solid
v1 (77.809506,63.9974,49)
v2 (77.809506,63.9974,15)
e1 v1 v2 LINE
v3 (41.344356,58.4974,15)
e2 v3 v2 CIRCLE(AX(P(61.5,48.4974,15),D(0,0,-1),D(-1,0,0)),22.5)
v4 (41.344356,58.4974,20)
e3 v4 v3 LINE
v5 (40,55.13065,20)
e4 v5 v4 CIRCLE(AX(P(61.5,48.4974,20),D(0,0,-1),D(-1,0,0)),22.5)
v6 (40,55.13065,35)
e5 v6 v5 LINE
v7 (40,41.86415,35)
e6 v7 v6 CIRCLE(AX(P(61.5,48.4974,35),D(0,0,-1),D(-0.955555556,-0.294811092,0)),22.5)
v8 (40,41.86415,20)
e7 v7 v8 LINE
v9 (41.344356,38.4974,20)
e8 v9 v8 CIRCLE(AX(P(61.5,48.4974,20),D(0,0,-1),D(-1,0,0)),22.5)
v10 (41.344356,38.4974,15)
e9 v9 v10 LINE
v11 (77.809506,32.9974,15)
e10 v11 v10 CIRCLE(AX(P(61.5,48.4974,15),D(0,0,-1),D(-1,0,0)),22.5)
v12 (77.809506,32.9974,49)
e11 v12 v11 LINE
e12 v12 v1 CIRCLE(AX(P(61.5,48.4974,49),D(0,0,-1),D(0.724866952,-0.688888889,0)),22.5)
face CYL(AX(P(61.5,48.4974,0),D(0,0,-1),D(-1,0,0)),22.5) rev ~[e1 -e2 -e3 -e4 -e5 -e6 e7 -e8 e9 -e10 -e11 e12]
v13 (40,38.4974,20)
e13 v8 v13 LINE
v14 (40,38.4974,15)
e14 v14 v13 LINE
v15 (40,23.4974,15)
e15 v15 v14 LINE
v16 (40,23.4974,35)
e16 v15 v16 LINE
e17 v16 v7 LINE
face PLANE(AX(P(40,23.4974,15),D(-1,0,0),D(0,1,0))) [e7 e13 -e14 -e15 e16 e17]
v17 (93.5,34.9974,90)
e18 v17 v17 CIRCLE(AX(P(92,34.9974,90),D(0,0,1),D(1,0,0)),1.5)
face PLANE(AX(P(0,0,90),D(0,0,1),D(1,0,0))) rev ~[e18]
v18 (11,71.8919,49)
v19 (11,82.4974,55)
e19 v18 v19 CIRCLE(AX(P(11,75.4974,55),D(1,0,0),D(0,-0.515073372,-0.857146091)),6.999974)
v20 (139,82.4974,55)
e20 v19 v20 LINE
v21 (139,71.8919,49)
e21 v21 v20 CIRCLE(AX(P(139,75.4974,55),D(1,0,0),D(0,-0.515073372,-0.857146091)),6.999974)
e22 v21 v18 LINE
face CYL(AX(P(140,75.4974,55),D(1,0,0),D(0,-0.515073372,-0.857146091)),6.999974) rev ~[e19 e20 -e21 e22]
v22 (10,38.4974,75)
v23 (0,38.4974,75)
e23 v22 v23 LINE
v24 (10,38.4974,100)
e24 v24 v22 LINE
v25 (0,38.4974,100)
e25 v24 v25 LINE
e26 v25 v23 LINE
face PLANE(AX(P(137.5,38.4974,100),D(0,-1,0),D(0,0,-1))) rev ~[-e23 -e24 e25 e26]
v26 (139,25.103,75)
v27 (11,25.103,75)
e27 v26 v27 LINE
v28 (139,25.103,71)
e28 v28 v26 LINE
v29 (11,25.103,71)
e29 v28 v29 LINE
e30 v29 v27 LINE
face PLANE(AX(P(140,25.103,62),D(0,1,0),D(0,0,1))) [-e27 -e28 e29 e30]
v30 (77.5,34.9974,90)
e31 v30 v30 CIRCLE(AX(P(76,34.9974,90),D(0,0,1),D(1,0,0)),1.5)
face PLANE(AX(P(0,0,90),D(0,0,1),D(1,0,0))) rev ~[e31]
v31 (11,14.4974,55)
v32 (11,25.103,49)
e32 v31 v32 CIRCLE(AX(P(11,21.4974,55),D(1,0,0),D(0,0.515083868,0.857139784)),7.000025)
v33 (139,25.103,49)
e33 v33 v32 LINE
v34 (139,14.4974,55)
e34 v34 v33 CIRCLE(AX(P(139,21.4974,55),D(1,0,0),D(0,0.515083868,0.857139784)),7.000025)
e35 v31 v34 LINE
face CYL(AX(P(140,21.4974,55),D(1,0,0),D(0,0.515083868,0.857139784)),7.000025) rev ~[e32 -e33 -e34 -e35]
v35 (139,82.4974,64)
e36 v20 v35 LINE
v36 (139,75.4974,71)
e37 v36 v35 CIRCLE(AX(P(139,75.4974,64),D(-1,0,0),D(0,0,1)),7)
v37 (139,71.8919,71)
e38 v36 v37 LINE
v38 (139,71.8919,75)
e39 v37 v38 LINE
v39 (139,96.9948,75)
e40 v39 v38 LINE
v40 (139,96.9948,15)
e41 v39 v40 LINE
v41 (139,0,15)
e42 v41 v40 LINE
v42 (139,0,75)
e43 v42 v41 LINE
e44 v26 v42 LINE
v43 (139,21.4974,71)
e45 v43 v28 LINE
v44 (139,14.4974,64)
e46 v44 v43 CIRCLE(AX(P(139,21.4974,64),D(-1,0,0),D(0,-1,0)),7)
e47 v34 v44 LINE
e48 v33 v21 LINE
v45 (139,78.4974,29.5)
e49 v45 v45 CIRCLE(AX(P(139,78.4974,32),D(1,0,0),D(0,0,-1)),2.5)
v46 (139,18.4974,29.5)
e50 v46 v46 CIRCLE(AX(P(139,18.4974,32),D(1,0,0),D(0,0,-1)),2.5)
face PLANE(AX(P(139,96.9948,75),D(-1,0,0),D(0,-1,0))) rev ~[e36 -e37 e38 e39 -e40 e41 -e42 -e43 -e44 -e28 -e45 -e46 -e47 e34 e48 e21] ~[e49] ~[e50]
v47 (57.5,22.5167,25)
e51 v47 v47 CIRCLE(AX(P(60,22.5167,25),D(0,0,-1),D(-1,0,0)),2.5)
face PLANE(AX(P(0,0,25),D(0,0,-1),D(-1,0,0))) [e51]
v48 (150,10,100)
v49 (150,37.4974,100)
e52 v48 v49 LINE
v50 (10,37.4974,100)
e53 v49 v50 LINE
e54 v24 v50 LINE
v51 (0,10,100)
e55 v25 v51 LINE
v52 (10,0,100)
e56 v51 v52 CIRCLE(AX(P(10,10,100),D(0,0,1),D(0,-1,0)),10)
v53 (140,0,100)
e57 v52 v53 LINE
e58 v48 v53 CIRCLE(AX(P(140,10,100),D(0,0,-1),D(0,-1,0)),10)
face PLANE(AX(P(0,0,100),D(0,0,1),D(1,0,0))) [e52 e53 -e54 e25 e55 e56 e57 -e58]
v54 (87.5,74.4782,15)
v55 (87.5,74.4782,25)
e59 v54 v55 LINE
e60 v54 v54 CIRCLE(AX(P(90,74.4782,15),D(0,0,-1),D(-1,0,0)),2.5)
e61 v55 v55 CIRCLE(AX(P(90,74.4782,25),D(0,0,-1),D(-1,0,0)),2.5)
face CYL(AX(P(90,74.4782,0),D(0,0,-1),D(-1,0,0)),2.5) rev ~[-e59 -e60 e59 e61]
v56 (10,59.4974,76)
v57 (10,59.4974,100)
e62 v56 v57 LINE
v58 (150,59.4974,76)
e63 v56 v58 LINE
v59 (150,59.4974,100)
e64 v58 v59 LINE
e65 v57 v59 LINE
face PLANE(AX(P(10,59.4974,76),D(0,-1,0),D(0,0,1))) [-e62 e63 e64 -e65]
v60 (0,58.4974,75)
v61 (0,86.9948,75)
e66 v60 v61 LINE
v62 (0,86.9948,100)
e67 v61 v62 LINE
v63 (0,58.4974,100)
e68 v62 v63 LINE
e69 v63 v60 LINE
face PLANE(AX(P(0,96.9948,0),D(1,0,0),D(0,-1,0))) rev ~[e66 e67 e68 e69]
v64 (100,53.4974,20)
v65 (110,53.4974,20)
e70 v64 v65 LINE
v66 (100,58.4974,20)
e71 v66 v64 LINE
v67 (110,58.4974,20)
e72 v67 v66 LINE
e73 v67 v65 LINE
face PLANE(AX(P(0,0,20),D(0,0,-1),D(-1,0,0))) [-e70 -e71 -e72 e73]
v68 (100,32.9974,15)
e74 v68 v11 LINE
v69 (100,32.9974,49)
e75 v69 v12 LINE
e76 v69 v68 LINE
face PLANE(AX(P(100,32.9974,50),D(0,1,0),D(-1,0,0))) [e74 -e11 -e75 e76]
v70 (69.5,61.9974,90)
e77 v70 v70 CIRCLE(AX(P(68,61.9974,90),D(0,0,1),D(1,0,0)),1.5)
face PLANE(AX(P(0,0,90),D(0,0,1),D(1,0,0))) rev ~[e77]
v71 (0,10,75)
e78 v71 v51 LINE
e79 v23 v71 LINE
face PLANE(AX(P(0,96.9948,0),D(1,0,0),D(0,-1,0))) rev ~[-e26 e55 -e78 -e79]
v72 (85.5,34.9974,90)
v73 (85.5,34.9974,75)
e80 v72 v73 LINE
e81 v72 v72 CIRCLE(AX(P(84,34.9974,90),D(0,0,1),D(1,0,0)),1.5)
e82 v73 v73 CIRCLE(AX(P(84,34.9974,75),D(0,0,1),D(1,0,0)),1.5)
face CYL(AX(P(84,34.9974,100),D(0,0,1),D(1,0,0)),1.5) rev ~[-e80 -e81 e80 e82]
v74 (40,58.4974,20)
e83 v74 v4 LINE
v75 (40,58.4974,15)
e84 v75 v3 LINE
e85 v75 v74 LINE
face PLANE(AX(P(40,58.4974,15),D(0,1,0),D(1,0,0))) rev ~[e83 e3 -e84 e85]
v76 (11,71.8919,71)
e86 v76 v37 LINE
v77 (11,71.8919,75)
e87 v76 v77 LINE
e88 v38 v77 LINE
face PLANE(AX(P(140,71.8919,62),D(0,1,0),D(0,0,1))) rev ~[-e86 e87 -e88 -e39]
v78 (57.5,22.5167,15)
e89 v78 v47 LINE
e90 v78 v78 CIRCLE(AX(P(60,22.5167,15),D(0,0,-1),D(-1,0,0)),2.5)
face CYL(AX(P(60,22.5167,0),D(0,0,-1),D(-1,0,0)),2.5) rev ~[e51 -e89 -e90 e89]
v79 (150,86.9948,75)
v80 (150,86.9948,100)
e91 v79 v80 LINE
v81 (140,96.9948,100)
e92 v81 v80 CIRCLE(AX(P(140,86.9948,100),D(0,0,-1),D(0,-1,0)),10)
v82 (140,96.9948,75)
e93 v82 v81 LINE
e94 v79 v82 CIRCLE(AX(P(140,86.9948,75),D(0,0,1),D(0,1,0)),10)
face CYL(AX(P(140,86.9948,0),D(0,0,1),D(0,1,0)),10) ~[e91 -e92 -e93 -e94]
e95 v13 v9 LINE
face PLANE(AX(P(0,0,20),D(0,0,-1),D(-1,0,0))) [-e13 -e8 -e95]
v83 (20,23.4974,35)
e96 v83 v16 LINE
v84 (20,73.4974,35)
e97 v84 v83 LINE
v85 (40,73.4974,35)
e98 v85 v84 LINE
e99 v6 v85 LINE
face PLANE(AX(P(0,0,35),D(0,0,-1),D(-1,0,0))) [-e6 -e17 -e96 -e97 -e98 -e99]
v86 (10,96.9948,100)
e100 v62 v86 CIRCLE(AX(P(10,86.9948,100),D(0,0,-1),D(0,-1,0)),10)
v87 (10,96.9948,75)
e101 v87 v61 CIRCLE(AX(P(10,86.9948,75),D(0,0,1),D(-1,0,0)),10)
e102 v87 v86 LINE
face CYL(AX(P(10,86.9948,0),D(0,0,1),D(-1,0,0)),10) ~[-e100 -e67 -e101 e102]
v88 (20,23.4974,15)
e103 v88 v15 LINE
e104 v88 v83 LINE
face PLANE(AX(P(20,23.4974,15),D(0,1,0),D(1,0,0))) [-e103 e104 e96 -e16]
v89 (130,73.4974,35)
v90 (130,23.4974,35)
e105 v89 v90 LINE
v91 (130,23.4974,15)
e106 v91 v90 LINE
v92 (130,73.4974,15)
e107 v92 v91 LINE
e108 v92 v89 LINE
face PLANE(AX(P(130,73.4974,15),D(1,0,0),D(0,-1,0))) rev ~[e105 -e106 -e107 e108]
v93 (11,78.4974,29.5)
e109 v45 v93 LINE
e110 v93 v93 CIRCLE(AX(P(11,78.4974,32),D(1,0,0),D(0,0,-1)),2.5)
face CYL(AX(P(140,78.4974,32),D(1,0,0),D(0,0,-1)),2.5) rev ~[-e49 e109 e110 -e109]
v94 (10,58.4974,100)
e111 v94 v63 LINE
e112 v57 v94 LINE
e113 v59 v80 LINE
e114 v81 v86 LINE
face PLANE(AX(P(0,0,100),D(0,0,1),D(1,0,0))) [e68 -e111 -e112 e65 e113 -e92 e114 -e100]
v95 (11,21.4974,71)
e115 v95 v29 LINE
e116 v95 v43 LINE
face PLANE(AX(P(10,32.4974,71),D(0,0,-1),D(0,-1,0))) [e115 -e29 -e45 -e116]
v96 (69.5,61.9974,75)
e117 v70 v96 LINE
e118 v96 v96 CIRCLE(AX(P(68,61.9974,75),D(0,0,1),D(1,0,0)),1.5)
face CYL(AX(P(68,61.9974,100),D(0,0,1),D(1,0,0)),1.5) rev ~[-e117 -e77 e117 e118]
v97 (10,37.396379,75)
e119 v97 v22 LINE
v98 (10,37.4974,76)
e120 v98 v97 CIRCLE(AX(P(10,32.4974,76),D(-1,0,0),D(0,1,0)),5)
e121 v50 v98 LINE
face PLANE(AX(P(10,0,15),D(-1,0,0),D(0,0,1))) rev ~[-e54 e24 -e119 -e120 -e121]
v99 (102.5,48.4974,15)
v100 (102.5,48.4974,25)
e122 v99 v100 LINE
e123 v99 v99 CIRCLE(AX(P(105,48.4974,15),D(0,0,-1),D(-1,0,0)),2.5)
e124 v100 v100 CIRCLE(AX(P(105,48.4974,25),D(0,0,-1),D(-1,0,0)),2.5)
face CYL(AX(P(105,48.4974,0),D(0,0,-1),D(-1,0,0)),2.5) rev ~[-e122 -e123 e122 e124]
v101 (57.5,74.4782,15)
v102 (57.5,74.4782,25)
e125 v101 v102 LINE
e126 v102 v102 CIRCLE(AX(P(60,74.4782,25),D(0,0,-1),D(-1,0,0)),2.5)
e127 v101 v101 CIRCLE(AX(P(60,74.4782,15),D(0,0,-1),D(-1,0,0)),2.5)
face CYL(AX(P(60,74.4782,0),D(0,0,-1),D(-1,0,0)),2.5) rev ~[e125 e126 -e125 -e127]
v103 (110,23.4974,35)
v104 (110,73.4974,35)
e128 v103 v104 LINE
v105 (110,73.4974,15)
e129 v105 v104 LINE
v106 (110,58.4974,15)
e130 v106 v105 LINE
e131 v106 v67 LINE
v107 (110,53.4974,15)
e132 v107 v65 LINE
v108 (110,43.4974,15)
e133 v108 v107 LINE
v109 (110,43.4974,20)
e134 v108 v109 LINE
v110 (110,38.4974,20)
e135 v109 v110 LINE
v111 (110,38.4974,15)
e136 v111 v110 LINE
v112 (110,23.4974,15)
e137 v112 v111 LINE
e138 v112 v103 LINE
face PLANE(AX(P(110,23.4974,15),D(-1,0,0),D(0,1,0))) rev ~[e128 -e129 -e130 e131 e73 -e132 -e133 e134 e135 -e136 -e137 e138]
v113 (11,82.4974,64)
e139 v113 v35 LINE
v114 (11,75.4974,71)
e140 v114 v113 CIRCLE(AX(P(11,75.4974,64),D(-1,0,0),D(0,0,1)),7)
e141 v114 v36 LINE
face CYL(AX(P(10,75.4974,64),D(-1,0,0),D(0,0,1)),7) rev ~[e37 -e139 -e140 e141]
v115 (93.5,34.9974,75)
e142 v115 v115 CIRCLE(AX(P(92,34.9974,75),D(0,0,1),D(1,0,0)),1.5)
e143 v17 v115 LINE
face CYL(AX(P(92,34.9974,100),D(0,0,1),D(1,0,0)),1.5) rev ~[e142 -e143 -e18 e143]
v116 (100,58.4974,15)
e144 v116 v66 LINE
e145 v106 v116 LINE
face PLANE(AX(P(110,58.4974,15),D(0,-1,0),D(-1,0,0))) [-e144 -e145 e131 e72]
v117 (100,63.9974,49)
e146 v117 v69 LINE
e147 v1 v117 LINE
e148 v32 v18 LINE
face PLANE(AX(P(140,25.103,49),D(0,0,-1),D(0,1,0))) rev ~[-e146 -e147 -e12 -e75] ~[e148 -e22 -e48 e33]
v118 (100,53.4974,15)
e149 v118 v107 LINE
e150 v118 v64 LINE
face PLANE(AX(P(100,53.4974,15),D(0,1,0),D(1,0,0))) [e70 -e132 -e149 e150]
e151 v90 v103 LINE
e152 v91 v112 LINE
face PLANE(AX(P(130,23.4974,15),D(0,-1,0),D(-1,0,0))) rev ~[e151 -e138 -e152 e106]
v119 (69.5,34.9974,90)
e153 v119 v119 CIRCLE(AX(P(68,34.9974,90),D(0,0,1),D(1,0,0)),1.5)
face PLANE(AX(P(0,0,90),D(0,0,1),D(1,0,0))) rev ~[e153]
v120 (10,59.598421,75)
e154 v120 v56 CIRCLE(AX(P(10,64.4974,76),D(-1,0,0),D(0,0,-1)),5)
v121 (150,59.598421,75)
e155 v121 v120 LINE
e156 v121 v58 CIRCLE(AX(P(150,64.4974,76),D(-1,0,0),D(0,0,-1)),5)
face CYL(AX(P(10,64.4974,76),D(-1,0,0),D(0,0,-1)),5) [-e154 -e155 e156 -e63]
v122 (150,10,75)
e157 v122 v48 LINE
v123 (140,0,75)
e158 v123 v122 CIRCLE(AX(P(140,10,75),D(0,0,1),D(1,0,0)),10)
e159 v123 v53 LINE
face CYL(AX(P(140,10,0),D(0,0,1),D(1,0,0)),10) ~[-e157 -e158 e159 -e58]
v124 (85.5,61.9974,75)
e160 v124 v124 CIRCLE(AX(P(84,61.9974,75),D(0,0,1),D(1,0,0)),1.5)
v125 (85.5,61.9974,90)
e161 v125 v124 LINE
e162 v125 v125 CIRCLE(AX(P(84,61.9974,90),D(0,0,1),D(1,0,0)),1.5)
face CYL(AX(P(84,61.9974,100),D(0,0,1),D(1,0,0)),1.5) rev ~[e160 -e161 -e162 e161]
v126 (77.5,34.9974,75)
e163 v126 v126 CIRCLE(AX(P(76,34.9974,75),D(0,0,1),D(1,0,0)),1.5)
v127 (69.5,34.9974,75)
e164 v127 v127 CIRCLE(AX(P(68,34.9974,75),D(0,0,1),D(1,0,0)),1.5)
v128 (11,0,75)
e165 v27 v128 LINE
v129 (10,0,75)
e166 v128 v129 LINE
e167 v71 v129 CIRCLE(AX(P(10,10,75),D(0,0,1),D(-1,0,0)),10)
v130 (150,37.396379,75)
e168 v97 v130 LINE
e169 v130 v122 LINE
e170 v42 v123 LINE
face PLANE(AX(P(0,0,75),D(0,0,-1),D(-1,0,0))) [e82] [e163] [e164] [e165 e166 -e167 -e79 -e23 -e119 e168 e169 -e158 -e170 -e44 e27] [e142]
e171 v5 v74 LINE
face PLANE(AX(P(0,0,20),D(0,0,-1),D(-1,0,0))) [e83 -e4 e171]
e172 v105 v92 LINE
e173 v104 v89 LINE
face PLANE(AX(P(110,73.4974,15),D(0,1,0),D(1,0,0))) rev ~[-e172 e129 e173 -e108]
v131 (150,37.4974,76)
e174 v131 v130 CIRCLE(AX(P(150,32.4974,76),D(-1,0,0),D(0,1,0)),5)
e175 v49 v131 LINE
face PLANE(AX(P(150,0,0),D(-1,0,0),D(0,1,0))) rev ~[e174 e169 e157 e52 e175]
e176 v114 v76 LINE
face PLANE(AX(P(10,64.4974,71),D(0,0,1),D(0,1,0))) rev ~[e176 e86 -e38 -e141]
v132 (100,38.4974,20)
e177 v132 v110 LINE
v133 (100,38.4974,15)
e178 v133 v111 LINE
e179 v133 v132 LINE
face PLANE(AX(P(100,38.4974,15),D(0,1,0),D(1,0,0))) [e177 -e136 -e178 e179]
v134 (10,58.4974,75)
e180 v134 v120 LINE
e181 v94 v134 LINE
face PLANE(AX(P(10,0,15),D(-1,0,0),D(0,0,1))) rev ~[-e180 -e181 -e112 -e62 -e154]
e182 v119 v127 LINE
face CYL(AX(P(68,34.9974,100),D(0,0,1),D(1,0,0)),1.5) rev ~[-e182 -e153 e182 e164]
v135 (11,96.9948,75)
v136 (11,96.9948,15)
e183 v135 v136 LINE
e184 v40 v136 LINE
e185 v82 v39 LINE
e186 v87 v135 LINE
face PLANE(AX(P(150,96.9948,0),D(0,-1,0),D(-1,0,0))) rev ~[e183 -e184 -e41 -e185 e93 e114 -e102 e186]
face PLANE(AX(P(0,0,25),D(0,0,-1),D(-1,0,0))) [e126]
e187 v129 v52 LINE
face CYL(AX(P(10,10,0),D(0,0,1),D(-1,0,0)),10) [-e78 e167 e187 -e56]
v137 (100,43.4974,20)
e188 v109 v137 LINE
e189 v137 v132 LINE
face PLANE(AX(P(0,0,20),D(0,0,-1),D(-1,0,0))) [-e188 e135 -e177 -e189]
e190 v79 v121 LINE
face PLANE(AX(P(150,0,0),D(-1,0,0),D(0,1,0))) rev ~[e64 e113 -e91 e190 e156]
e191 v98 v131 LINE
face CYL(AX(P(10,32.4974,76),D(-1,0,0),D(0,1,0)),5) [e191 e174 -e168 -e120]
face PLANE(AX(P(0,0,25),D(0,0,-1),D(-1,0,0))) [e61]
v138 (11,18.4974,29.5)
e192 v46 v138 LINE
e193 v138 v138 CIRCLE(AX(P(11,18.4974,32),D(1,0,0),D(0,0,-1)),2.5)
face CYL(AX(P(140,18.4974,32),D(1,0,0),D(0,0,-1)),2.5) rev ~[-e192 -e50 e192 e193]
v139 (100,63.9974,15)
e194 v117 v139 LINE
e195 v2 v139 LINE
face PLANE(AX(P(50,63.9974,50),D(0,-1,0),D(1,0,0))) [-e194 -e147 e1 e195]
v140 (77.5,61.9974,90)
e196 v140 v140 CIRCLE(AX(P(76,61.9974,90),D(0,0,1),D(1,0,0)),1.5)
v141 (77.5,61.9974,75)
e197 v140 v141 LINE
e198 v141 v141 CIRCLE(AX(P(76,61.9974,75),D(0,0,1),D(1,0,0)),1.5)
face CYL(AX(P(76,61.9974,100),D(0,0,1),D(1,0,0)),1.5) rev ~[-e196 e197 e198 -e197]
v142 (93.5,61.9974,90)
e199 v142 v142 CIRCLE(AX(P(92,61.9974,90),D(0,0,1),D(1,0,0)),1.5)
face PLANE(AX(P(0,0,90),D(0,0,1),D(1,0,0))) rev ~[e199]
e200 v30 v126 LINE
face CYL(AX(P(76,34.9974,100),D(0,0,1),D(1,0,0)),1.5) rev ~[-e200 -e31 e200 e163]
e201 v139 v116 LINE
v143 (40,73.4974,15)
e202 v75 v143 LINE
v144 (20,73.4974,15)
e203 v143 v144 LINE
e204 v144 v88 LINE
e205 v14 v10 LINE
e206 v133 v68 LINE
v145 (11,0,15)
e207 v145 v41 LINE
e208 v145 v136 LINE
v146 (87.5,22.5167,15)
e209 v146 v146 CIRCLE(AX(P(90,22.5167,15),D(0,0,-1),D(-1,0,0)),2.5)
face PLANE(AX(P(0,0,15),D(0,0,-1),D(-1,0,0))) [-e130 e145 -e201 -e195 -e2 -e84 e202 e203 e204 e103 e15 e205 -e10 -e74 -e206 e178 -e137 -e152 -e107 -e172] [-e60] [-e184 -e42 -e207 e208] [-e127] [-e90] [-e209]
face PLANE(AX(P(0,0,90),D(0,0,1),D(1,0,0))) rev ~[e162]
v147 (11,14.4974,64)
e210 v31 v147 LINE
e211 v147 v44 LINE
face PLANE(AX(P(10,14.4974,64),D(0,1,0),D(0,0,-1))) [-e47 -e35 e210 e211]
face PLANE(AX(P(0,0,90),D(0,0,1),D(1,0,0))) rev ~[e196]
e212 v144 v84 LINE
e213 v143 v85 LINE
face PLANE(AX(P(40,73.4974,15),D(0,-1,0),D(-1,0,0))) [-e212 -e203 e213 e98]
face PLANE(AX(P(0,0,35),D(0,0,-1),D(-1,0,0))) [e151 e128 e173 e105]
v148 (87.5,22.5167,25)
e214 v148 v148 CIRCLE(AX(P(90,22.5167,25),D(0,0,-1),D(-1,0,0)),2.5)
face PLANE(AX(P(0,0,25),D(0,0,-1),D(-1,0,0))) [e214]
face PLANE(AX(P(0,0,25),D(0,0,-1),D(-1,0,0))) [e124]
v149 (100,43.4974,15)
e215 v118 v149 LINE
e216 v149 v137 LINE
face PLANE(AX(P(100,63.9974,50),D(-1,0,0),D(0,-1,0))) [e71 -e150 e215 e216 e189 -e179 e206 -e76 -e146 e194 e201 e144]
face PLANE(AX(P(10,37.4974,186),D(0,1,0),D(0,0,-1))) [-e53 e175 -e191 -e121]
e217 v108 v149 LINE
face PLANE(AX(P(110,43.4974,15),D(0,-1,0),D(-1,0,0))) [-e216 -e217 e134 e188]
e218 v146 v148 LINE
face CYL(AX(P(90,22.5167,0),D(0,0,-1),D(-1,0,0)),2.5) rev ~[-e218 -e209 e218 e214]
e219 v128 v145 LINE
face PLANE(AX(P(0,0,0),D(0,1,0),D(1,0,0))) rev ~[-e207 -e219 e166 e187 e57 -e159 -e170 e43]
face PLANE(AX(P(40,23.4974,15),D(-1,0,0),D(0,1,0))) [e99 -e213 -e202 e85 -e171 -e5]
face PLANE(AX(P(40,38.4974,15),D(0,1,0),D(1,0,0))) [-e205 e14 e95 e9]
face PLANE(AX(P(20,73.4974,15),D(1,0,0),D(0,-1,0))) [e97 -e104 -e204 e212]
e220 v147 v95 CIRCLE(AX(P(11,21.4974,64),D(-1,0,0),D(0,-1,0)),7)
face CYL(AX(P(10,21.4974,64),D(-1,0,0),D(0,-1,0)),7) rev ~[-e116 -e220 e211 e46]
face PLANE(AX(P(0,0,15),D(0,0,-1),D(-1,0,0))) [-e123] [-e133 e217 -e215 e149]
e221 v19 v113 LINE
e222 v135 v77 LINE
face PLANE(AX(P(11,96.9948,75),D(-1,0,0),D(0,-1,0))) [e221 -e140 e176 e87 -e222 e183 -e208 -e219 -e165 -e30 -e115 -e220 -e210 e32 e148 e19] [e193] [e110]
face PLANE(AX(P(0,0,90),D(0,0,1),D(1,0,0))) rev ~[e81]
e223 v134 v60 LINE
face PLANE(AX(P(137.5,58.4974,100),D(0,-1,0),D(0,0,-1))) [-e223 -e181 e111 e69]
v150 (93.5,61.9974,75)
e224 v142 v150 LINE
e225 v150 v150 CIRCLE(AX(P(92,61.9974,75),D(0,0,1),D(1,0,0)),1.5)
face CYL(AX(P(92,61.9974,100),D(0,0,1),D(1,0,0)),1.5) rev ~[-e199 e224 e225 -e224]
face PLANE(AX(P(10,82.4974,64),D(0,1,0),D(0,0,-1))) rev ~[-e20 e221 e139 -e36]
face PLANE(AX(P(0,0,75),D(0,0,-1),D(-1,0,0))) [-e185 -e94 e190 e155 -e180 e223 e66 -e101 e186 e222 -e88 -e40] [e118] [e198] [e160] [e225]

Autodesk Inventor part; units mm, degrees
ref_plane "YZ Plane" through (0, 0, 0) normal (1, 0, 0) x (0, 1, 0)
ref_plane "XZ Plane" through (0, 0, 0) normal (0, 1, 0) x (-1, 0, 0)
ref_plane "XY Plane" through (0, 0, 0) normal (0, 0, 1) x (1, 0, 0)
sketch "Sketch1" plane through (0, 0, 0) normal (0, 0, 1) x (1, 0, 0)
  line L0 (0, 0) -> (150, 0)
  line L1 (150, 0) -> (150, 96.9948)
  line L2 (150, 96.9948) -> (0, 96.9948)
  line L3 (0, 96.9948) -> (0, 0)
  dimension "d0" = 150
  dimension "d1" = 96.9948
extrude "Extrusion1" add sketch "Sketch1" along normal blind 100
fillet "Fillet1" radius 10 4 edges at (150, 96.9948, 50) (150, 0, 50) (0, 96.9948, 50) (0, 0, 50)
sketch "Sketch2" plane through (0, 0, 0) normal (0, 0, -1) x (-1, 0, 0)
  circle A0 centre (-75, 48.4974) radius 2.5
  circle A1 centre (-45, 48.4974) radius 2.5
  line L0 (-140, 96.9948) -> (-10, 96.9948) projected
  line L1 (0, 86.9948) -> (0, 10) projected
  circle A2 centre (-60, 74.4782) radius 2.5
  circle A3 centre (-90, 74.4782) radius 2.5
  circle A4 centre (-105, 48.4974) radius 2.5
  circle A5 centre (-90, 22.5167) radius 2.5
  circle A6 centre (-60, 22.5167) radius 2.5
  point P0 (0, 0)
  point P1 (-75, 96.9948)
  point P2 (0, 48.4974)
  dimension "d5" = 5
  dimension "d6" = 5
  dimension "d7" = 30
  dimension "d10" = 360
extrude "Extrusion2" cut sketch "Sketch2" against normal blind 25
sketch "Sketch3" plane through (0, 0, 100) normal (0, 0, 1) x (1, 0, 0)
  line L0 (12.5, 38.4974) -> (137.5, 38.4974)
  line L1 (137.5, 38.4974) -> (137.5, 58.4974)
  line L2 (137.5, 58.4974) -> (12.5, 58.4974)
  line L3 (12.5, 58.4974) -> (12.5, 38.4974)
  line L4 (10, 0) -> (140, 0) projected
  line L5 (0, 86.9948) -> (0, 10) projected
  point P0 (0, 0)
  point P1 (75, 38.4974)
  point P2 (75, 0)
  point P3 (12.5, 48.4974)
  point P4 (0, 48.4974)
  dimension "d14" = 20
  dimension "d15" = 125
extrude "Extrusion3" cut sketch "Sketch3" against normal blind 50
sketch "Sketch4" plane through (0, 0, 50) normal (0, 0, 1) x (1, 0, 0)
  line L0 (100, 32.9974) -> (50, 32.9974)
  line L1 (50, 32.9974) -> (50, 63.9974)
  line L2 (50, 63.9974) -> (100, 63.9974)
  line L3 (100, 63.9974) -> (100, 32.9974)
  line L4 (150, 10) -> (150, 86.9948) projected
  line L5 (10, 0) -> (140, 0) projected
  point P0 (0, 0)
  point P1 (100, 48.4974)
  point P2 (150, 48.4974)
  point P3 (75, 32.9974)
  point P4 (75, 0)
  dimension "d18" = 50
  dimension "d19" = 31
extrude "Extrusion4" cut sketch "Sketch4" against normal through all
sketch "Sketch5" plane through (0, 0, 100) normal (0, 0, 1) x (1, 0, 0)
  line L0 (68, 61.9974) -> (92, 61.9974) construction
  line L1 (92, 61.9974) -> (92, 34.9974) construction
  line L2 (92, 34.9974) -> (68, 34.9974) construction
  line L3 (68, 34.9974) -> (68, 61.9974) construction
  line L4 (0, 86.9948) -> (0, 10) projected
  line L5 (140, 96.9948) -> (10, 96.9948) projected
  circle A0 centre (68, 61.9974) radius 1.5
  circle A1 centre (68, 34.9974) radius 1.5
  circle A2 centre (92, 34.9974) radius 1.5
  circle A3 centre (92, 61.9974) radius 1.5
  circle A4 centre (76, 61.9974) radius 1.5
  circle A5 centre (84, 61.9974) radius 1.5
  circle A6 centre (76, 34.9974) radius 1.5
  circle A7 centre (84, 34.9974) radius 1.5
  line L6 (50, 38.4974) -> (50, 58.4974) projected
  line L7 (100, 58.4974) -> (100, 38.4974) projected
  point P0 (0, 0)
  point P1 (68, 48.4974)
  point P2 (0, 48.4974)
  point P3 (80, 61.9974)
  point P4 (75, 96.9948)
  dimension "d22" = 24
  dimension "d23" = 27
  dimension "d24" = 3
  dimension "d25" = 3
  dimension "d26" = 3
  dimension "d27" = 3
  dimension "d28" = 3
  dimension "d29" = 3
  dimension "d30" = 3
  dimension "d31" = 3
  dimension "d32" = 8
  dimension "d33" = 8
  dimension "d37" = 8
extrude "Extrusion5" cut sketch "Sketch5" against normal through all
sketch "Sketch7" plane through (0, 0, 0) normal (0, 0, -1) x (-1, 0, 0)
  line L0 (-100, 32.9974) -> (-100, 63.9974) projected
  line L1 (-100, 63.9974) -> (-50, 63.9974) projected
  line L2 (-150, 10) -> (-150, 86.9948) projected
  line L3 (0, 86.9948) -> (0, 10) projected
  line L4 (-150, 96.9948) -> (0, 96.9948)
  line L5 (0, 96.9948) -> (0, 0)
  line L6 (0, 0) -> (-150, 0)
  line L7 (-150, 0) -> (-150, 96.9948)
  point P0 (0, 0)
  point P1 (-75, 48.4974)
  point P2 (-100, 48.4974)
  point P3 (-75, 63.9974)
  point P4 (-150, 48.4974)
  point P5 (-150, 48.4974)
  point P6 (-150, 48.4974)
  dimension "d55" = 96.9948
extrude "Extrusion6" cut sketch "Sketch7" against normal blind 15
sketch "Sketch8" plane through (0, 0, 15) normal (0, 0, -1) x (-1, 0, 0)
  line L0 (-110, 73.4974) -> (-130, 73.4974)
  line L1 (-130, 73.4974) -> (-130, 23.4974)
  line L2 (-130, 23.4974) -> (-110, 23.4974)
  line L3 (-110, 23.4974) -> (-110, 73.4974)
  line L4 (-100, 63.9974) -> (-100, 32.9974) projected
  point P0 (0, 0)
  point P1 (-110, 48.4974)
  point P2 (-100, 48.4974)
  dimension "d56" = 10
  dimension "d57" = 20
  dimension "d60" = 50
extrude "Extrusion7" cut sketch "Sketch8" against normal blind 20
sketch "Sketch9" plane through (0, 0, 15) normal (0, 0, -1) x (-1, 0, 0)
  line L0 (-110, 73.4974) -> (-110, 23.4974) projected
  line L1 (-100, 63.9974) -> (-100, 32.9974) projected
  line L2 (-110, 58.4974) -> (-100, 58.4974)
  line L3 (-100, 58.4974) -> (-100, 53.4974)
  line L4 (-100, 53.4974) -> (-110, 53.4974)
  line L5 (-110, 53.4974) -> (-110, 58.4974)
  circle A0 centre (-105, 48.4974) radius 2.5 construction
  line L6 (-110, 43.4974) -> (-100, 43.4974)
  line L7 (-100, 43.4974) -> (-100, 38.4974)
  line L8 (-100, 38.4974) -> (-110, 38.4974)
  line L9 (-110, 38.4974) -> (-110, 43.4974)
  point P0 (0, 0)
  dimension "d61" = 5
  dimension "d62" = 5
  dimension "d63" = 5
  dimension "d64" = 5
extrude "Extrusion8" cut sketch "Sketch9" against normal blind 5 contours L2 L1 L4 L0 | L6 L1 L8 L0
sketch "Sketch10" plane through (0, 0, 15) normal (0, 0, -1) x (-1, 0, 0)
  line L0 (-50, 32.9974) -> (-50, 63.9974) projected
  circle A0 centre (-45, 48.4974) radius 2.5 projected
  line L1 (-40, 73.4974) -> (-20, 73.4974)
  line L2 (-20, 73.4974) -> (-20, 23.4974)
  line L3 (-20, 23.4974) -> (-40, 23.4974)
  line L4 (-40, 23.4974) -> (-40, 73.4974)
  point P0 (0, 0)
  point P1 (-40, 48.4974)
  dimension "d67" = 20
  dimension "d68" = 50
  dimension "d69" = 10
extrude "Extrusion9" cut sketch "Sketch10" against normal blind 20 contours L1 L2 L3 L4
sketch "Sketch11" plane through (0, 0, 15) normal (0, 0, -1) x (-1, 0, 0)
  line L0 (-50, 32.9974) -> (-50, 63.9974) projected
  line L1 (-50, 53.4974) -> (-40, 53.4974)
  line L2 (-40, 53.4974) -> (-40, 58.4974)
  line L3 (-40, 58.4974) -> (-50, 58.4974)
  line L4 (-50, 58.4974) -> (-50, 53.4974)
  line L5 (-50, 43.4974) -> (-40, 43.4974)
  line L6 (-40, 43.4974) -> (-40, 38.4974)
  line L7 (-40, 38.4974) -> (-50, 38.4974)
  line L8 (-50, 38.4974) -> (-50, 43.4974)
  line L9 (-40, 23.4974) -> (-40, 73.4974) projected
  point P0 (0, 0)
  point P1 (-100, 43.4974)
  point P2 (-100, 38.4974)
  point P3 (-100, 53.4974)
  point P4 (-100, 58.4974)
extrude "Extrusion10" cut sketch "Sketch11" against normal blind 5 contours L0 L5 L6 L7 | L0 L3 L2 L1
sketch "Sketch12" plane through (0, 0, 100) normal (0, 0, 1) x (1, 0, 0)
  circle A0 centre (92, 34.9974) radius 1.5 projected
  circle A1 centre (84, 34.9974) radius 1.5 projected
  circle A2 centre (76, 34.9974) radius 1.5 projected
  circle A3 centre (68, 34.9974) radius 1.5 projected
  circle A4 centre (68, 61.9974) radius 1.5 projected
  circle A5 centre (76, 61.9974) radius 1.5 projected
  circle A6 centre (84, 61.9974) radius 1.5 projected
  circle A7 centre (92, 61.9974) radius 1.5 projected
  point P0 (0, 0)
extrude "Extrusion11" add sketch "Sketch12" against normal blind 10
sketch "Sketch13" plane through (0, 0, 15) normal (0, 0, -1) x (-1, 0, 0)
  line L0 (0, 86.9948) -> (0, 10)
  line L1 (-150, 96.9948) -> (-140, 96.9948)
  line L2 (-140, 96.9948) -> (-140, 0)
  line L3 (-140, 0) -> (-150, 0)
  line L4 (-150, 0) -> (-150, 96.9948)
  line L5 (0, 96.9948) -> (-10, 96.9948)
  line L6 (-10, 96.9948) -> (-10, 0)
  line L7 (-10, 0) -> (0, 0)
  line L8 (0, 0) -> (0, 96.9948)
  line L9 (-140, 96.9948) -> (-10, 96.9948) projected
  line L10 (-10, 0) -> (-140, 0) projected
  line L11 (-150, 10) -> (-150, 86.9948) projected
  point P0 (0, 0)
  point P1 (0, 48.4974)
  point P2 (-150, 48.4974)
  dimension "d77" = 10
  dimension "d105" = 10
extrude "Extrusion12" cut sketch "Sketch13" against normal blind 60 contours L0 L8 L7 L6 L5 | L2 L3 L4 L1
sketch "Sketch14" plane through (140, 0, 15) normal (1, 0, 0) x (0, 0, -1)
  circle A0 centre (-50, 30.9974) radius 2.5
  circle A1 centre (-50, 65.9974) radius 2.5
  line L0 (-50, 30.9974) -> (-50, 65.9974) construction
  line L1 (-60, 10) -> (-60, 86.9948) projected
  point P0 (15, -15.9974)
  point P1 (-50, 48.4974)
  point P2 (-60, 48.4974)
  point P3 (-60, 0)
  point P4 (-60, 65)
  point P5 (-60, 48.4974)
  dimension "d80" = 5
  dimension "d81" = 5
  dimension "d83" = 35
  dimension "d106" = 10
extrude "Extrusion13" cut sketch "Sketch14" against normal through all
sketch "Sketch16" plane through (137.5, 38.4974, 100) normal (-1, 0, 0) x (0, 0, 1)
  circle A0 centre (-45, -17) radius 6.5
  circle A1 centre (-45, 37) radius 6.5
  line L0 (-39.5, 37) -> (-50.5, 37)
  line L1 (-50.5, 37) -> (-50.5, -17)
  line L2 (-50.5, -17) -> (-39.5, -17)
  line L3 (-39.5, -17) -> (-39.5, 37)
  line L4 (-39.5, -17) -> (-50.5, -17)
  line L5 (-50.5, -17) -> (-50.5, 0)
  line L6 (-39.5, 0) -> (-39.5, -17)
  line L7 (-50.5, 37) -> (-39.5, 37)
  line L8 (-39.5, 37) -> (-39.5, 20)
  line L9 (-50.5, 20) -> (-50.5, 37)
  line L10 (0, -28.4974) -> (0, 48.4974) projected
  line L11 (0, 20) -> (0, 0) projected
  line L12 (0, 20) -> (-50, 20) projected
  line L13 (-50, 20) -> (-50, 0) projected
  line L14 (0, 0) -> (-50, 0) projected
  point P0 (0, 10)
  point P1 (-25, 20)
  point P2 (-25, 0)
  point P3 (-50.5, 10)
  point P4 (-50, 10)
  point P5 (-45, -17)
  dimension "d88" = 13
  dimension "d91" = 13
  dimension "d94" = 11
  dimension "d107" = 54
  dimension "d109" = 0.5
extrude "Extrusion15" cut sketch "Sketch16" along normal through all both and the other way through all
sketch "Sketch21" plane through (0, 0, 0) normal (0, 0, -1) x (-1, 0, 0)
  circle A0 centre (-61.5, 48.4974) radius 22.5
  line L0 (-50, 43.4974) -> (-50, 53.4974) projected
  point P0 (0, 0)
  point P1 (-50, 48.4974)
  dimension "d101" = 45
  dimension "d102" = 11.5
extrude "Extrusion17" cut sketch "Sketch21" against normal blind 50
sketch "Sketch22" plane through (140, 0, 15) normal (1, 0, 0) x (0, 0, -1)
  arc A0 (-45.5, 24.9615) -> (-34.5, 24.9615) centre (-40, 21.4974) ccw projected
  line L0 (-34.5, 72.0333) -> (-34.5, 24.9615) projected
  arc A1 (-34.5, 72.0333) -> (-45.5, 72.0333) centre (-40, 75.4974) ccw projected
  line L1 (-45.5, 58.4974) -> (-45.5, 72.0333) projected
  line L2 (-45.5, 24.9615) -> (-45.5, 38.4974) projected
  line L3 (-45.5, 38.4974) -> (-45.5, 58.4974)
  line L4 (-75, 36.4974) -> (-45.5, 36.4974) projected
  line L5 (-46, 38.4974) -> (-46, 25.103)
  arc A2 (-46, 25.103) -> (-34, 25.103) centre (-40, 21.4974) ccw
  line L6 (-34, 25.103) -> (-34, 71.8919)
  arc A3 (-34, 71.8919) -> (-46, 71.8919) centre (-40, 75.4974) ccw
  line L7 (-46, 71.8919) -> (-46, 58.4974)
  line L8 (-46, 58.4974) -> (-46, 38.4974)
  point P0 (15, 0)
  dimension "d110" = 0.5
extrude "Extrusion18" cut sketch "Sketch22" against normal through all contours L2 L3 L1 A1 L0 A0 | L5 L8 L7 A3 L6 A2
sketch "Sketch23" plane through (140, 0, 15) normal (1, 0, 0) x (0, 0, -1)
  circle A0 centre (-17, 78.4974) radius 2.5
  circle A1 centre (-17, 18.4974) radius 2.5
  line L0 (-60, 38.4974) -> (-85, 38.4974) projected
  arc A2 (-46, 25.103) -> (-34, 25.103) centre (-40, 21.4974) ccw construction
  line L1 (-60, 38.4974) -> (-46, 38.4974)
  line L2 (-46, 38.4974) -> (-46, 25.103)
  line L3 (-46, 25.103) -> (-60, 25.103)
  line L4 (-60, 25.103) -> (-60, 38.4974)
  line L5 (-60, 58.4974) -> (-46, 58.4974) projected
  line L6 (-46, 71.8919) -> (-46, 58.4974) projected
  line L7 (-60, 58.4974) -> (-46, 58.4974)
  line L8 (-46, 58.4974) -> (-46, 71.8919)
  line L9 (-46, 71.8919) -> (-60, 71.8919)
  line L10 (-60, 71.8919) -> (-60, 58.4974)
  line L11 (-17, 78.4974) -> (-17, 18.4974) construction
  line L12 (0, 96.9948) -> (0, 0) construction
  line L13 (-34, 25.103) -> (-34, 71.8919) construction
  line L14 (-34, 71.8919) -> (-34, 96.9948) construction
  line L15 (-60, 96.9948) -> (0, 96.9948) construction
  line L16 (0, 96.9948) -> (-34, 96.9948)
  line L17 (-46, 58.4974) -> (-46, 71.8919) projected
  arc A3 (-34, 71.8919) -> (-46, 71.8919) centre (-40, 75.4974) ccw construction
  line L18 (-46, 71.8919) -> (-47, 71.8919)
  line L19 (-47, 71.8919) -> (-47, 75.4974)
  line L20 (-47, 75.4974) -> (-46, 75.4974)
  line L21 (-46, 75.4974) -> (-46, 71.8919)
  line L22 (-46, 25.103) -> (-46, 38.4974) projected
  line L23 (-46, 25.103) -> (-47, 25.103)
  line L24 (-47, 25.103) -> (-47, 21.4974)
  line L25 (-47, 21.4974) -> (-46, 21.4974)
  line L26 (-46, 21.4974) -> (-46, 25.103)
  point P0 (15, 0)
  point P1 (-17, 48.4974)
  point P2 (0, 48.4974)
  point P3 (-17, 96.9948)
  dimension "d113" = 5
  dimension "d114" = 5
  dimension "d115" = 60
extrude "Extrusion19" cut sketch "Sketch23" against normal through all
sketch "Sketch24" plane through (10, 0, 15) normal (-1, 0, 0) x (0, 0, 1)
  arc A0 (49, 15.4974) -> (55, 21.4974) centre (49, 21.4974) ccw
  line L0 (55, 21.4974) -> (55, 32.4974)
  arc A1 (61, 38.4974) -> (55, 32.4974) centre (61, 32.4974) ccw
  line L1 (61, 38.4974) -> (170, 38.4974)
  line L2 (170, 38.4974) -> (170, 58.4974)
  line L3 (170, 58.4974) -> (51, 58.4974)
  arc A2 (51, 58.4974) -> (45, 52.4974) centre (51, 52.4974) ccw
  line L4 (45, 52.4974) -> (45, 30.814)
  line L5 (35, 30.814) -> (45, 30.814)
  line L6 (35, 30.814) -> (35, 24.814)
  arc A3 (35, 24.814) -> (40, 15.4974) centre (40, 21.4974) ccw
  line L7 (40, 15.4974) -> (49, 15.4974)
  arc A4 (34, 25.103) -> (47, 21.4974) centre (40, 21.4974) ccw projected
  line L8 (171, 37.4974) -> (61, 37.4974)
  arc A5 (61, 37.4974) -> (56, 32.4974) centre (61, 32.4974) ccw
  line L9 (56, 32.4974) -> (56, 21.4974)
  arc A6 (49, 14.4974) -> (56, 21.4974) centre (49, 21.4974) ccw
  line L10 (49, 14.4974) -> (40, 14.4974)
  arc A7 (34, 25.103) -> (40, 14.4974) centre (40, 21.4974) ccw
  line L11 (34, 25.103) -> (34, 31.814)
  line L12 (34, 31.814) -> (44, 31.814)
  line L13 (44, 31.814) -> (44, 52.4974)
  arc A8 (51, 59.4974) -> (44, 52.4974) centre (51, 52.4974) ccw
  line L14 (51, 59.4974) -> (171, 59.4974)
  line L15 (171, 59.4974) -> (171, 37.4974)
  line L16 (34, 32.9974) -> (34, 63.9974) projected
  line L17 (34, 48.4974) -> (259.9722, 48.4974)
  arc A9 (55, 75.4974) -> (49, 81.4974) centre (49, 75.4974) ccw
  line L18 (55, 75.4974) -> (55, 64.4974)
  arc A10 (55, 64.4974) -> (61, 58.4974) centre (61, 64.4974) ccw
  line L19 (61, 58.4974) -> (170, 58.4974)
  line L20 (170, 58.4974) -> (170, 38.4974)
  line L21 (170, 38.4974) -> (51, 38.4974)
  arc A11 (45, 44.4974) -> (51, 38.4974) centre (51, 44.4974) ccw
  line L22 (45, 44.4974) -> (45, 66.1808)
  line L23 (35, 66.1808) -> (45, 66.1808)
  line L24 (35, 66.1808) -> (35, 72.1808)
  arc A12 (40, 81.4974) -> (35, 72.1808) centre (40, 75.4974) ccw
  line L25 (40, 81.4974) -> (49, 81.4974)
  arc A13 (47, 75.4974) -> (34, 71.8919) centre (40, 75.4974) ccw
  line L26 (171, 59.4974) -> (61, 59.4974)
  arc A14 (56, 64.4974) -> (61, 59.4974) centre (61, 64.4974) ccw
  line L27 (56, 64.4974) -> (56, 75.4974)
  arc A15 (56, 75.4974) -> (49, 82.4974) centre (49, 75.4974) ccw
  line L28 (49, 82.4974) -> (40, 82.4974)
  arc A16 (40, 82.4974) -> (34, 71.8919) centre (40, 75.4974) ccw
  line L29 (34, 71.8919) -> (34, 65.1808)
  line L30 (34, 65.1808) -> (44, 65.1808)
  line L31 (44, 65.1808) -> (44, 44.4974)
  arc A17 (44, 44.4974) -> (51, 37.4974) centre (51, 44.4974) ccw
  line L32 (51, 37.4974) -> (171, 37.4974)
  line L33 (171, 37.4974) -> (171, 59.4974)
  line L34 (34, 63.9974) -> (34, 32.9974)
  point P0 (-15, 0)
  point P1 (35.0244, 10.0099)
  point P2 (-15, 96.9948)
  point P3 (35.0244, 86.985)
  dimension "d118" = 10
  dimension "d119" = 21.6834
  dimension "d120" = 119
  dimension "d121" = 11
  dimension "d122" = 109
  dimension "d123" = 20
  dimension "d124" = 9
  dimension "d125" = 6
  dimension "d126" = 6
  dimension "d127" = 6
  dimension "d128" = 6
  dimension "d129" = 5
  dimension "d130" = 1
extrude "Extrusion20" cut sketch "Sketch24" against normal through all
sketch "Sketch25" plane through (0, 0, 75) normal (0, 0, -1) x (-1, 0, 0)
  line L0 (-10, 0) -> (-10, 96.9948) projected
  line L1 (-140, 96.9948) -> (-140, 0) projected
  arc A0 (0, 86.9948) -> (-10, 96.9948) centre (-10, 86.9948) ccw projected
  line L2 (-10, 96.9948) -> (-11, 96.9948)
  line L3 (-11, 96.9948) -> (-11, 0)
  line L4 (-11, 0) -> (-10, 0)
  line L5 (-10, 0) -> (-10, 96.9948)
  arc A1 (-140, 96.9948) -> (-150, 86.9948) centre (-140, 86.9948) ccw projected
  line L6 (-10, 0) -> (-140, 0) projected
  line L7 (-140, 96.9948) -> (-139, 96.9948)
  line L8 (-139, 96.9948) -> (-139, 0)
  line L9 (-139, 0) -> (-140, 0)
  line L10 (-140, 0) -> (-140, 96.9948)
  point P0 (0, 0)
  dimension "d133" = 1
  dimension "d134" = 1
extrude "Extrusion21" cut sketch "Sketch25" along normal through all
properties part number "GA01" material "ABS Plastic"
